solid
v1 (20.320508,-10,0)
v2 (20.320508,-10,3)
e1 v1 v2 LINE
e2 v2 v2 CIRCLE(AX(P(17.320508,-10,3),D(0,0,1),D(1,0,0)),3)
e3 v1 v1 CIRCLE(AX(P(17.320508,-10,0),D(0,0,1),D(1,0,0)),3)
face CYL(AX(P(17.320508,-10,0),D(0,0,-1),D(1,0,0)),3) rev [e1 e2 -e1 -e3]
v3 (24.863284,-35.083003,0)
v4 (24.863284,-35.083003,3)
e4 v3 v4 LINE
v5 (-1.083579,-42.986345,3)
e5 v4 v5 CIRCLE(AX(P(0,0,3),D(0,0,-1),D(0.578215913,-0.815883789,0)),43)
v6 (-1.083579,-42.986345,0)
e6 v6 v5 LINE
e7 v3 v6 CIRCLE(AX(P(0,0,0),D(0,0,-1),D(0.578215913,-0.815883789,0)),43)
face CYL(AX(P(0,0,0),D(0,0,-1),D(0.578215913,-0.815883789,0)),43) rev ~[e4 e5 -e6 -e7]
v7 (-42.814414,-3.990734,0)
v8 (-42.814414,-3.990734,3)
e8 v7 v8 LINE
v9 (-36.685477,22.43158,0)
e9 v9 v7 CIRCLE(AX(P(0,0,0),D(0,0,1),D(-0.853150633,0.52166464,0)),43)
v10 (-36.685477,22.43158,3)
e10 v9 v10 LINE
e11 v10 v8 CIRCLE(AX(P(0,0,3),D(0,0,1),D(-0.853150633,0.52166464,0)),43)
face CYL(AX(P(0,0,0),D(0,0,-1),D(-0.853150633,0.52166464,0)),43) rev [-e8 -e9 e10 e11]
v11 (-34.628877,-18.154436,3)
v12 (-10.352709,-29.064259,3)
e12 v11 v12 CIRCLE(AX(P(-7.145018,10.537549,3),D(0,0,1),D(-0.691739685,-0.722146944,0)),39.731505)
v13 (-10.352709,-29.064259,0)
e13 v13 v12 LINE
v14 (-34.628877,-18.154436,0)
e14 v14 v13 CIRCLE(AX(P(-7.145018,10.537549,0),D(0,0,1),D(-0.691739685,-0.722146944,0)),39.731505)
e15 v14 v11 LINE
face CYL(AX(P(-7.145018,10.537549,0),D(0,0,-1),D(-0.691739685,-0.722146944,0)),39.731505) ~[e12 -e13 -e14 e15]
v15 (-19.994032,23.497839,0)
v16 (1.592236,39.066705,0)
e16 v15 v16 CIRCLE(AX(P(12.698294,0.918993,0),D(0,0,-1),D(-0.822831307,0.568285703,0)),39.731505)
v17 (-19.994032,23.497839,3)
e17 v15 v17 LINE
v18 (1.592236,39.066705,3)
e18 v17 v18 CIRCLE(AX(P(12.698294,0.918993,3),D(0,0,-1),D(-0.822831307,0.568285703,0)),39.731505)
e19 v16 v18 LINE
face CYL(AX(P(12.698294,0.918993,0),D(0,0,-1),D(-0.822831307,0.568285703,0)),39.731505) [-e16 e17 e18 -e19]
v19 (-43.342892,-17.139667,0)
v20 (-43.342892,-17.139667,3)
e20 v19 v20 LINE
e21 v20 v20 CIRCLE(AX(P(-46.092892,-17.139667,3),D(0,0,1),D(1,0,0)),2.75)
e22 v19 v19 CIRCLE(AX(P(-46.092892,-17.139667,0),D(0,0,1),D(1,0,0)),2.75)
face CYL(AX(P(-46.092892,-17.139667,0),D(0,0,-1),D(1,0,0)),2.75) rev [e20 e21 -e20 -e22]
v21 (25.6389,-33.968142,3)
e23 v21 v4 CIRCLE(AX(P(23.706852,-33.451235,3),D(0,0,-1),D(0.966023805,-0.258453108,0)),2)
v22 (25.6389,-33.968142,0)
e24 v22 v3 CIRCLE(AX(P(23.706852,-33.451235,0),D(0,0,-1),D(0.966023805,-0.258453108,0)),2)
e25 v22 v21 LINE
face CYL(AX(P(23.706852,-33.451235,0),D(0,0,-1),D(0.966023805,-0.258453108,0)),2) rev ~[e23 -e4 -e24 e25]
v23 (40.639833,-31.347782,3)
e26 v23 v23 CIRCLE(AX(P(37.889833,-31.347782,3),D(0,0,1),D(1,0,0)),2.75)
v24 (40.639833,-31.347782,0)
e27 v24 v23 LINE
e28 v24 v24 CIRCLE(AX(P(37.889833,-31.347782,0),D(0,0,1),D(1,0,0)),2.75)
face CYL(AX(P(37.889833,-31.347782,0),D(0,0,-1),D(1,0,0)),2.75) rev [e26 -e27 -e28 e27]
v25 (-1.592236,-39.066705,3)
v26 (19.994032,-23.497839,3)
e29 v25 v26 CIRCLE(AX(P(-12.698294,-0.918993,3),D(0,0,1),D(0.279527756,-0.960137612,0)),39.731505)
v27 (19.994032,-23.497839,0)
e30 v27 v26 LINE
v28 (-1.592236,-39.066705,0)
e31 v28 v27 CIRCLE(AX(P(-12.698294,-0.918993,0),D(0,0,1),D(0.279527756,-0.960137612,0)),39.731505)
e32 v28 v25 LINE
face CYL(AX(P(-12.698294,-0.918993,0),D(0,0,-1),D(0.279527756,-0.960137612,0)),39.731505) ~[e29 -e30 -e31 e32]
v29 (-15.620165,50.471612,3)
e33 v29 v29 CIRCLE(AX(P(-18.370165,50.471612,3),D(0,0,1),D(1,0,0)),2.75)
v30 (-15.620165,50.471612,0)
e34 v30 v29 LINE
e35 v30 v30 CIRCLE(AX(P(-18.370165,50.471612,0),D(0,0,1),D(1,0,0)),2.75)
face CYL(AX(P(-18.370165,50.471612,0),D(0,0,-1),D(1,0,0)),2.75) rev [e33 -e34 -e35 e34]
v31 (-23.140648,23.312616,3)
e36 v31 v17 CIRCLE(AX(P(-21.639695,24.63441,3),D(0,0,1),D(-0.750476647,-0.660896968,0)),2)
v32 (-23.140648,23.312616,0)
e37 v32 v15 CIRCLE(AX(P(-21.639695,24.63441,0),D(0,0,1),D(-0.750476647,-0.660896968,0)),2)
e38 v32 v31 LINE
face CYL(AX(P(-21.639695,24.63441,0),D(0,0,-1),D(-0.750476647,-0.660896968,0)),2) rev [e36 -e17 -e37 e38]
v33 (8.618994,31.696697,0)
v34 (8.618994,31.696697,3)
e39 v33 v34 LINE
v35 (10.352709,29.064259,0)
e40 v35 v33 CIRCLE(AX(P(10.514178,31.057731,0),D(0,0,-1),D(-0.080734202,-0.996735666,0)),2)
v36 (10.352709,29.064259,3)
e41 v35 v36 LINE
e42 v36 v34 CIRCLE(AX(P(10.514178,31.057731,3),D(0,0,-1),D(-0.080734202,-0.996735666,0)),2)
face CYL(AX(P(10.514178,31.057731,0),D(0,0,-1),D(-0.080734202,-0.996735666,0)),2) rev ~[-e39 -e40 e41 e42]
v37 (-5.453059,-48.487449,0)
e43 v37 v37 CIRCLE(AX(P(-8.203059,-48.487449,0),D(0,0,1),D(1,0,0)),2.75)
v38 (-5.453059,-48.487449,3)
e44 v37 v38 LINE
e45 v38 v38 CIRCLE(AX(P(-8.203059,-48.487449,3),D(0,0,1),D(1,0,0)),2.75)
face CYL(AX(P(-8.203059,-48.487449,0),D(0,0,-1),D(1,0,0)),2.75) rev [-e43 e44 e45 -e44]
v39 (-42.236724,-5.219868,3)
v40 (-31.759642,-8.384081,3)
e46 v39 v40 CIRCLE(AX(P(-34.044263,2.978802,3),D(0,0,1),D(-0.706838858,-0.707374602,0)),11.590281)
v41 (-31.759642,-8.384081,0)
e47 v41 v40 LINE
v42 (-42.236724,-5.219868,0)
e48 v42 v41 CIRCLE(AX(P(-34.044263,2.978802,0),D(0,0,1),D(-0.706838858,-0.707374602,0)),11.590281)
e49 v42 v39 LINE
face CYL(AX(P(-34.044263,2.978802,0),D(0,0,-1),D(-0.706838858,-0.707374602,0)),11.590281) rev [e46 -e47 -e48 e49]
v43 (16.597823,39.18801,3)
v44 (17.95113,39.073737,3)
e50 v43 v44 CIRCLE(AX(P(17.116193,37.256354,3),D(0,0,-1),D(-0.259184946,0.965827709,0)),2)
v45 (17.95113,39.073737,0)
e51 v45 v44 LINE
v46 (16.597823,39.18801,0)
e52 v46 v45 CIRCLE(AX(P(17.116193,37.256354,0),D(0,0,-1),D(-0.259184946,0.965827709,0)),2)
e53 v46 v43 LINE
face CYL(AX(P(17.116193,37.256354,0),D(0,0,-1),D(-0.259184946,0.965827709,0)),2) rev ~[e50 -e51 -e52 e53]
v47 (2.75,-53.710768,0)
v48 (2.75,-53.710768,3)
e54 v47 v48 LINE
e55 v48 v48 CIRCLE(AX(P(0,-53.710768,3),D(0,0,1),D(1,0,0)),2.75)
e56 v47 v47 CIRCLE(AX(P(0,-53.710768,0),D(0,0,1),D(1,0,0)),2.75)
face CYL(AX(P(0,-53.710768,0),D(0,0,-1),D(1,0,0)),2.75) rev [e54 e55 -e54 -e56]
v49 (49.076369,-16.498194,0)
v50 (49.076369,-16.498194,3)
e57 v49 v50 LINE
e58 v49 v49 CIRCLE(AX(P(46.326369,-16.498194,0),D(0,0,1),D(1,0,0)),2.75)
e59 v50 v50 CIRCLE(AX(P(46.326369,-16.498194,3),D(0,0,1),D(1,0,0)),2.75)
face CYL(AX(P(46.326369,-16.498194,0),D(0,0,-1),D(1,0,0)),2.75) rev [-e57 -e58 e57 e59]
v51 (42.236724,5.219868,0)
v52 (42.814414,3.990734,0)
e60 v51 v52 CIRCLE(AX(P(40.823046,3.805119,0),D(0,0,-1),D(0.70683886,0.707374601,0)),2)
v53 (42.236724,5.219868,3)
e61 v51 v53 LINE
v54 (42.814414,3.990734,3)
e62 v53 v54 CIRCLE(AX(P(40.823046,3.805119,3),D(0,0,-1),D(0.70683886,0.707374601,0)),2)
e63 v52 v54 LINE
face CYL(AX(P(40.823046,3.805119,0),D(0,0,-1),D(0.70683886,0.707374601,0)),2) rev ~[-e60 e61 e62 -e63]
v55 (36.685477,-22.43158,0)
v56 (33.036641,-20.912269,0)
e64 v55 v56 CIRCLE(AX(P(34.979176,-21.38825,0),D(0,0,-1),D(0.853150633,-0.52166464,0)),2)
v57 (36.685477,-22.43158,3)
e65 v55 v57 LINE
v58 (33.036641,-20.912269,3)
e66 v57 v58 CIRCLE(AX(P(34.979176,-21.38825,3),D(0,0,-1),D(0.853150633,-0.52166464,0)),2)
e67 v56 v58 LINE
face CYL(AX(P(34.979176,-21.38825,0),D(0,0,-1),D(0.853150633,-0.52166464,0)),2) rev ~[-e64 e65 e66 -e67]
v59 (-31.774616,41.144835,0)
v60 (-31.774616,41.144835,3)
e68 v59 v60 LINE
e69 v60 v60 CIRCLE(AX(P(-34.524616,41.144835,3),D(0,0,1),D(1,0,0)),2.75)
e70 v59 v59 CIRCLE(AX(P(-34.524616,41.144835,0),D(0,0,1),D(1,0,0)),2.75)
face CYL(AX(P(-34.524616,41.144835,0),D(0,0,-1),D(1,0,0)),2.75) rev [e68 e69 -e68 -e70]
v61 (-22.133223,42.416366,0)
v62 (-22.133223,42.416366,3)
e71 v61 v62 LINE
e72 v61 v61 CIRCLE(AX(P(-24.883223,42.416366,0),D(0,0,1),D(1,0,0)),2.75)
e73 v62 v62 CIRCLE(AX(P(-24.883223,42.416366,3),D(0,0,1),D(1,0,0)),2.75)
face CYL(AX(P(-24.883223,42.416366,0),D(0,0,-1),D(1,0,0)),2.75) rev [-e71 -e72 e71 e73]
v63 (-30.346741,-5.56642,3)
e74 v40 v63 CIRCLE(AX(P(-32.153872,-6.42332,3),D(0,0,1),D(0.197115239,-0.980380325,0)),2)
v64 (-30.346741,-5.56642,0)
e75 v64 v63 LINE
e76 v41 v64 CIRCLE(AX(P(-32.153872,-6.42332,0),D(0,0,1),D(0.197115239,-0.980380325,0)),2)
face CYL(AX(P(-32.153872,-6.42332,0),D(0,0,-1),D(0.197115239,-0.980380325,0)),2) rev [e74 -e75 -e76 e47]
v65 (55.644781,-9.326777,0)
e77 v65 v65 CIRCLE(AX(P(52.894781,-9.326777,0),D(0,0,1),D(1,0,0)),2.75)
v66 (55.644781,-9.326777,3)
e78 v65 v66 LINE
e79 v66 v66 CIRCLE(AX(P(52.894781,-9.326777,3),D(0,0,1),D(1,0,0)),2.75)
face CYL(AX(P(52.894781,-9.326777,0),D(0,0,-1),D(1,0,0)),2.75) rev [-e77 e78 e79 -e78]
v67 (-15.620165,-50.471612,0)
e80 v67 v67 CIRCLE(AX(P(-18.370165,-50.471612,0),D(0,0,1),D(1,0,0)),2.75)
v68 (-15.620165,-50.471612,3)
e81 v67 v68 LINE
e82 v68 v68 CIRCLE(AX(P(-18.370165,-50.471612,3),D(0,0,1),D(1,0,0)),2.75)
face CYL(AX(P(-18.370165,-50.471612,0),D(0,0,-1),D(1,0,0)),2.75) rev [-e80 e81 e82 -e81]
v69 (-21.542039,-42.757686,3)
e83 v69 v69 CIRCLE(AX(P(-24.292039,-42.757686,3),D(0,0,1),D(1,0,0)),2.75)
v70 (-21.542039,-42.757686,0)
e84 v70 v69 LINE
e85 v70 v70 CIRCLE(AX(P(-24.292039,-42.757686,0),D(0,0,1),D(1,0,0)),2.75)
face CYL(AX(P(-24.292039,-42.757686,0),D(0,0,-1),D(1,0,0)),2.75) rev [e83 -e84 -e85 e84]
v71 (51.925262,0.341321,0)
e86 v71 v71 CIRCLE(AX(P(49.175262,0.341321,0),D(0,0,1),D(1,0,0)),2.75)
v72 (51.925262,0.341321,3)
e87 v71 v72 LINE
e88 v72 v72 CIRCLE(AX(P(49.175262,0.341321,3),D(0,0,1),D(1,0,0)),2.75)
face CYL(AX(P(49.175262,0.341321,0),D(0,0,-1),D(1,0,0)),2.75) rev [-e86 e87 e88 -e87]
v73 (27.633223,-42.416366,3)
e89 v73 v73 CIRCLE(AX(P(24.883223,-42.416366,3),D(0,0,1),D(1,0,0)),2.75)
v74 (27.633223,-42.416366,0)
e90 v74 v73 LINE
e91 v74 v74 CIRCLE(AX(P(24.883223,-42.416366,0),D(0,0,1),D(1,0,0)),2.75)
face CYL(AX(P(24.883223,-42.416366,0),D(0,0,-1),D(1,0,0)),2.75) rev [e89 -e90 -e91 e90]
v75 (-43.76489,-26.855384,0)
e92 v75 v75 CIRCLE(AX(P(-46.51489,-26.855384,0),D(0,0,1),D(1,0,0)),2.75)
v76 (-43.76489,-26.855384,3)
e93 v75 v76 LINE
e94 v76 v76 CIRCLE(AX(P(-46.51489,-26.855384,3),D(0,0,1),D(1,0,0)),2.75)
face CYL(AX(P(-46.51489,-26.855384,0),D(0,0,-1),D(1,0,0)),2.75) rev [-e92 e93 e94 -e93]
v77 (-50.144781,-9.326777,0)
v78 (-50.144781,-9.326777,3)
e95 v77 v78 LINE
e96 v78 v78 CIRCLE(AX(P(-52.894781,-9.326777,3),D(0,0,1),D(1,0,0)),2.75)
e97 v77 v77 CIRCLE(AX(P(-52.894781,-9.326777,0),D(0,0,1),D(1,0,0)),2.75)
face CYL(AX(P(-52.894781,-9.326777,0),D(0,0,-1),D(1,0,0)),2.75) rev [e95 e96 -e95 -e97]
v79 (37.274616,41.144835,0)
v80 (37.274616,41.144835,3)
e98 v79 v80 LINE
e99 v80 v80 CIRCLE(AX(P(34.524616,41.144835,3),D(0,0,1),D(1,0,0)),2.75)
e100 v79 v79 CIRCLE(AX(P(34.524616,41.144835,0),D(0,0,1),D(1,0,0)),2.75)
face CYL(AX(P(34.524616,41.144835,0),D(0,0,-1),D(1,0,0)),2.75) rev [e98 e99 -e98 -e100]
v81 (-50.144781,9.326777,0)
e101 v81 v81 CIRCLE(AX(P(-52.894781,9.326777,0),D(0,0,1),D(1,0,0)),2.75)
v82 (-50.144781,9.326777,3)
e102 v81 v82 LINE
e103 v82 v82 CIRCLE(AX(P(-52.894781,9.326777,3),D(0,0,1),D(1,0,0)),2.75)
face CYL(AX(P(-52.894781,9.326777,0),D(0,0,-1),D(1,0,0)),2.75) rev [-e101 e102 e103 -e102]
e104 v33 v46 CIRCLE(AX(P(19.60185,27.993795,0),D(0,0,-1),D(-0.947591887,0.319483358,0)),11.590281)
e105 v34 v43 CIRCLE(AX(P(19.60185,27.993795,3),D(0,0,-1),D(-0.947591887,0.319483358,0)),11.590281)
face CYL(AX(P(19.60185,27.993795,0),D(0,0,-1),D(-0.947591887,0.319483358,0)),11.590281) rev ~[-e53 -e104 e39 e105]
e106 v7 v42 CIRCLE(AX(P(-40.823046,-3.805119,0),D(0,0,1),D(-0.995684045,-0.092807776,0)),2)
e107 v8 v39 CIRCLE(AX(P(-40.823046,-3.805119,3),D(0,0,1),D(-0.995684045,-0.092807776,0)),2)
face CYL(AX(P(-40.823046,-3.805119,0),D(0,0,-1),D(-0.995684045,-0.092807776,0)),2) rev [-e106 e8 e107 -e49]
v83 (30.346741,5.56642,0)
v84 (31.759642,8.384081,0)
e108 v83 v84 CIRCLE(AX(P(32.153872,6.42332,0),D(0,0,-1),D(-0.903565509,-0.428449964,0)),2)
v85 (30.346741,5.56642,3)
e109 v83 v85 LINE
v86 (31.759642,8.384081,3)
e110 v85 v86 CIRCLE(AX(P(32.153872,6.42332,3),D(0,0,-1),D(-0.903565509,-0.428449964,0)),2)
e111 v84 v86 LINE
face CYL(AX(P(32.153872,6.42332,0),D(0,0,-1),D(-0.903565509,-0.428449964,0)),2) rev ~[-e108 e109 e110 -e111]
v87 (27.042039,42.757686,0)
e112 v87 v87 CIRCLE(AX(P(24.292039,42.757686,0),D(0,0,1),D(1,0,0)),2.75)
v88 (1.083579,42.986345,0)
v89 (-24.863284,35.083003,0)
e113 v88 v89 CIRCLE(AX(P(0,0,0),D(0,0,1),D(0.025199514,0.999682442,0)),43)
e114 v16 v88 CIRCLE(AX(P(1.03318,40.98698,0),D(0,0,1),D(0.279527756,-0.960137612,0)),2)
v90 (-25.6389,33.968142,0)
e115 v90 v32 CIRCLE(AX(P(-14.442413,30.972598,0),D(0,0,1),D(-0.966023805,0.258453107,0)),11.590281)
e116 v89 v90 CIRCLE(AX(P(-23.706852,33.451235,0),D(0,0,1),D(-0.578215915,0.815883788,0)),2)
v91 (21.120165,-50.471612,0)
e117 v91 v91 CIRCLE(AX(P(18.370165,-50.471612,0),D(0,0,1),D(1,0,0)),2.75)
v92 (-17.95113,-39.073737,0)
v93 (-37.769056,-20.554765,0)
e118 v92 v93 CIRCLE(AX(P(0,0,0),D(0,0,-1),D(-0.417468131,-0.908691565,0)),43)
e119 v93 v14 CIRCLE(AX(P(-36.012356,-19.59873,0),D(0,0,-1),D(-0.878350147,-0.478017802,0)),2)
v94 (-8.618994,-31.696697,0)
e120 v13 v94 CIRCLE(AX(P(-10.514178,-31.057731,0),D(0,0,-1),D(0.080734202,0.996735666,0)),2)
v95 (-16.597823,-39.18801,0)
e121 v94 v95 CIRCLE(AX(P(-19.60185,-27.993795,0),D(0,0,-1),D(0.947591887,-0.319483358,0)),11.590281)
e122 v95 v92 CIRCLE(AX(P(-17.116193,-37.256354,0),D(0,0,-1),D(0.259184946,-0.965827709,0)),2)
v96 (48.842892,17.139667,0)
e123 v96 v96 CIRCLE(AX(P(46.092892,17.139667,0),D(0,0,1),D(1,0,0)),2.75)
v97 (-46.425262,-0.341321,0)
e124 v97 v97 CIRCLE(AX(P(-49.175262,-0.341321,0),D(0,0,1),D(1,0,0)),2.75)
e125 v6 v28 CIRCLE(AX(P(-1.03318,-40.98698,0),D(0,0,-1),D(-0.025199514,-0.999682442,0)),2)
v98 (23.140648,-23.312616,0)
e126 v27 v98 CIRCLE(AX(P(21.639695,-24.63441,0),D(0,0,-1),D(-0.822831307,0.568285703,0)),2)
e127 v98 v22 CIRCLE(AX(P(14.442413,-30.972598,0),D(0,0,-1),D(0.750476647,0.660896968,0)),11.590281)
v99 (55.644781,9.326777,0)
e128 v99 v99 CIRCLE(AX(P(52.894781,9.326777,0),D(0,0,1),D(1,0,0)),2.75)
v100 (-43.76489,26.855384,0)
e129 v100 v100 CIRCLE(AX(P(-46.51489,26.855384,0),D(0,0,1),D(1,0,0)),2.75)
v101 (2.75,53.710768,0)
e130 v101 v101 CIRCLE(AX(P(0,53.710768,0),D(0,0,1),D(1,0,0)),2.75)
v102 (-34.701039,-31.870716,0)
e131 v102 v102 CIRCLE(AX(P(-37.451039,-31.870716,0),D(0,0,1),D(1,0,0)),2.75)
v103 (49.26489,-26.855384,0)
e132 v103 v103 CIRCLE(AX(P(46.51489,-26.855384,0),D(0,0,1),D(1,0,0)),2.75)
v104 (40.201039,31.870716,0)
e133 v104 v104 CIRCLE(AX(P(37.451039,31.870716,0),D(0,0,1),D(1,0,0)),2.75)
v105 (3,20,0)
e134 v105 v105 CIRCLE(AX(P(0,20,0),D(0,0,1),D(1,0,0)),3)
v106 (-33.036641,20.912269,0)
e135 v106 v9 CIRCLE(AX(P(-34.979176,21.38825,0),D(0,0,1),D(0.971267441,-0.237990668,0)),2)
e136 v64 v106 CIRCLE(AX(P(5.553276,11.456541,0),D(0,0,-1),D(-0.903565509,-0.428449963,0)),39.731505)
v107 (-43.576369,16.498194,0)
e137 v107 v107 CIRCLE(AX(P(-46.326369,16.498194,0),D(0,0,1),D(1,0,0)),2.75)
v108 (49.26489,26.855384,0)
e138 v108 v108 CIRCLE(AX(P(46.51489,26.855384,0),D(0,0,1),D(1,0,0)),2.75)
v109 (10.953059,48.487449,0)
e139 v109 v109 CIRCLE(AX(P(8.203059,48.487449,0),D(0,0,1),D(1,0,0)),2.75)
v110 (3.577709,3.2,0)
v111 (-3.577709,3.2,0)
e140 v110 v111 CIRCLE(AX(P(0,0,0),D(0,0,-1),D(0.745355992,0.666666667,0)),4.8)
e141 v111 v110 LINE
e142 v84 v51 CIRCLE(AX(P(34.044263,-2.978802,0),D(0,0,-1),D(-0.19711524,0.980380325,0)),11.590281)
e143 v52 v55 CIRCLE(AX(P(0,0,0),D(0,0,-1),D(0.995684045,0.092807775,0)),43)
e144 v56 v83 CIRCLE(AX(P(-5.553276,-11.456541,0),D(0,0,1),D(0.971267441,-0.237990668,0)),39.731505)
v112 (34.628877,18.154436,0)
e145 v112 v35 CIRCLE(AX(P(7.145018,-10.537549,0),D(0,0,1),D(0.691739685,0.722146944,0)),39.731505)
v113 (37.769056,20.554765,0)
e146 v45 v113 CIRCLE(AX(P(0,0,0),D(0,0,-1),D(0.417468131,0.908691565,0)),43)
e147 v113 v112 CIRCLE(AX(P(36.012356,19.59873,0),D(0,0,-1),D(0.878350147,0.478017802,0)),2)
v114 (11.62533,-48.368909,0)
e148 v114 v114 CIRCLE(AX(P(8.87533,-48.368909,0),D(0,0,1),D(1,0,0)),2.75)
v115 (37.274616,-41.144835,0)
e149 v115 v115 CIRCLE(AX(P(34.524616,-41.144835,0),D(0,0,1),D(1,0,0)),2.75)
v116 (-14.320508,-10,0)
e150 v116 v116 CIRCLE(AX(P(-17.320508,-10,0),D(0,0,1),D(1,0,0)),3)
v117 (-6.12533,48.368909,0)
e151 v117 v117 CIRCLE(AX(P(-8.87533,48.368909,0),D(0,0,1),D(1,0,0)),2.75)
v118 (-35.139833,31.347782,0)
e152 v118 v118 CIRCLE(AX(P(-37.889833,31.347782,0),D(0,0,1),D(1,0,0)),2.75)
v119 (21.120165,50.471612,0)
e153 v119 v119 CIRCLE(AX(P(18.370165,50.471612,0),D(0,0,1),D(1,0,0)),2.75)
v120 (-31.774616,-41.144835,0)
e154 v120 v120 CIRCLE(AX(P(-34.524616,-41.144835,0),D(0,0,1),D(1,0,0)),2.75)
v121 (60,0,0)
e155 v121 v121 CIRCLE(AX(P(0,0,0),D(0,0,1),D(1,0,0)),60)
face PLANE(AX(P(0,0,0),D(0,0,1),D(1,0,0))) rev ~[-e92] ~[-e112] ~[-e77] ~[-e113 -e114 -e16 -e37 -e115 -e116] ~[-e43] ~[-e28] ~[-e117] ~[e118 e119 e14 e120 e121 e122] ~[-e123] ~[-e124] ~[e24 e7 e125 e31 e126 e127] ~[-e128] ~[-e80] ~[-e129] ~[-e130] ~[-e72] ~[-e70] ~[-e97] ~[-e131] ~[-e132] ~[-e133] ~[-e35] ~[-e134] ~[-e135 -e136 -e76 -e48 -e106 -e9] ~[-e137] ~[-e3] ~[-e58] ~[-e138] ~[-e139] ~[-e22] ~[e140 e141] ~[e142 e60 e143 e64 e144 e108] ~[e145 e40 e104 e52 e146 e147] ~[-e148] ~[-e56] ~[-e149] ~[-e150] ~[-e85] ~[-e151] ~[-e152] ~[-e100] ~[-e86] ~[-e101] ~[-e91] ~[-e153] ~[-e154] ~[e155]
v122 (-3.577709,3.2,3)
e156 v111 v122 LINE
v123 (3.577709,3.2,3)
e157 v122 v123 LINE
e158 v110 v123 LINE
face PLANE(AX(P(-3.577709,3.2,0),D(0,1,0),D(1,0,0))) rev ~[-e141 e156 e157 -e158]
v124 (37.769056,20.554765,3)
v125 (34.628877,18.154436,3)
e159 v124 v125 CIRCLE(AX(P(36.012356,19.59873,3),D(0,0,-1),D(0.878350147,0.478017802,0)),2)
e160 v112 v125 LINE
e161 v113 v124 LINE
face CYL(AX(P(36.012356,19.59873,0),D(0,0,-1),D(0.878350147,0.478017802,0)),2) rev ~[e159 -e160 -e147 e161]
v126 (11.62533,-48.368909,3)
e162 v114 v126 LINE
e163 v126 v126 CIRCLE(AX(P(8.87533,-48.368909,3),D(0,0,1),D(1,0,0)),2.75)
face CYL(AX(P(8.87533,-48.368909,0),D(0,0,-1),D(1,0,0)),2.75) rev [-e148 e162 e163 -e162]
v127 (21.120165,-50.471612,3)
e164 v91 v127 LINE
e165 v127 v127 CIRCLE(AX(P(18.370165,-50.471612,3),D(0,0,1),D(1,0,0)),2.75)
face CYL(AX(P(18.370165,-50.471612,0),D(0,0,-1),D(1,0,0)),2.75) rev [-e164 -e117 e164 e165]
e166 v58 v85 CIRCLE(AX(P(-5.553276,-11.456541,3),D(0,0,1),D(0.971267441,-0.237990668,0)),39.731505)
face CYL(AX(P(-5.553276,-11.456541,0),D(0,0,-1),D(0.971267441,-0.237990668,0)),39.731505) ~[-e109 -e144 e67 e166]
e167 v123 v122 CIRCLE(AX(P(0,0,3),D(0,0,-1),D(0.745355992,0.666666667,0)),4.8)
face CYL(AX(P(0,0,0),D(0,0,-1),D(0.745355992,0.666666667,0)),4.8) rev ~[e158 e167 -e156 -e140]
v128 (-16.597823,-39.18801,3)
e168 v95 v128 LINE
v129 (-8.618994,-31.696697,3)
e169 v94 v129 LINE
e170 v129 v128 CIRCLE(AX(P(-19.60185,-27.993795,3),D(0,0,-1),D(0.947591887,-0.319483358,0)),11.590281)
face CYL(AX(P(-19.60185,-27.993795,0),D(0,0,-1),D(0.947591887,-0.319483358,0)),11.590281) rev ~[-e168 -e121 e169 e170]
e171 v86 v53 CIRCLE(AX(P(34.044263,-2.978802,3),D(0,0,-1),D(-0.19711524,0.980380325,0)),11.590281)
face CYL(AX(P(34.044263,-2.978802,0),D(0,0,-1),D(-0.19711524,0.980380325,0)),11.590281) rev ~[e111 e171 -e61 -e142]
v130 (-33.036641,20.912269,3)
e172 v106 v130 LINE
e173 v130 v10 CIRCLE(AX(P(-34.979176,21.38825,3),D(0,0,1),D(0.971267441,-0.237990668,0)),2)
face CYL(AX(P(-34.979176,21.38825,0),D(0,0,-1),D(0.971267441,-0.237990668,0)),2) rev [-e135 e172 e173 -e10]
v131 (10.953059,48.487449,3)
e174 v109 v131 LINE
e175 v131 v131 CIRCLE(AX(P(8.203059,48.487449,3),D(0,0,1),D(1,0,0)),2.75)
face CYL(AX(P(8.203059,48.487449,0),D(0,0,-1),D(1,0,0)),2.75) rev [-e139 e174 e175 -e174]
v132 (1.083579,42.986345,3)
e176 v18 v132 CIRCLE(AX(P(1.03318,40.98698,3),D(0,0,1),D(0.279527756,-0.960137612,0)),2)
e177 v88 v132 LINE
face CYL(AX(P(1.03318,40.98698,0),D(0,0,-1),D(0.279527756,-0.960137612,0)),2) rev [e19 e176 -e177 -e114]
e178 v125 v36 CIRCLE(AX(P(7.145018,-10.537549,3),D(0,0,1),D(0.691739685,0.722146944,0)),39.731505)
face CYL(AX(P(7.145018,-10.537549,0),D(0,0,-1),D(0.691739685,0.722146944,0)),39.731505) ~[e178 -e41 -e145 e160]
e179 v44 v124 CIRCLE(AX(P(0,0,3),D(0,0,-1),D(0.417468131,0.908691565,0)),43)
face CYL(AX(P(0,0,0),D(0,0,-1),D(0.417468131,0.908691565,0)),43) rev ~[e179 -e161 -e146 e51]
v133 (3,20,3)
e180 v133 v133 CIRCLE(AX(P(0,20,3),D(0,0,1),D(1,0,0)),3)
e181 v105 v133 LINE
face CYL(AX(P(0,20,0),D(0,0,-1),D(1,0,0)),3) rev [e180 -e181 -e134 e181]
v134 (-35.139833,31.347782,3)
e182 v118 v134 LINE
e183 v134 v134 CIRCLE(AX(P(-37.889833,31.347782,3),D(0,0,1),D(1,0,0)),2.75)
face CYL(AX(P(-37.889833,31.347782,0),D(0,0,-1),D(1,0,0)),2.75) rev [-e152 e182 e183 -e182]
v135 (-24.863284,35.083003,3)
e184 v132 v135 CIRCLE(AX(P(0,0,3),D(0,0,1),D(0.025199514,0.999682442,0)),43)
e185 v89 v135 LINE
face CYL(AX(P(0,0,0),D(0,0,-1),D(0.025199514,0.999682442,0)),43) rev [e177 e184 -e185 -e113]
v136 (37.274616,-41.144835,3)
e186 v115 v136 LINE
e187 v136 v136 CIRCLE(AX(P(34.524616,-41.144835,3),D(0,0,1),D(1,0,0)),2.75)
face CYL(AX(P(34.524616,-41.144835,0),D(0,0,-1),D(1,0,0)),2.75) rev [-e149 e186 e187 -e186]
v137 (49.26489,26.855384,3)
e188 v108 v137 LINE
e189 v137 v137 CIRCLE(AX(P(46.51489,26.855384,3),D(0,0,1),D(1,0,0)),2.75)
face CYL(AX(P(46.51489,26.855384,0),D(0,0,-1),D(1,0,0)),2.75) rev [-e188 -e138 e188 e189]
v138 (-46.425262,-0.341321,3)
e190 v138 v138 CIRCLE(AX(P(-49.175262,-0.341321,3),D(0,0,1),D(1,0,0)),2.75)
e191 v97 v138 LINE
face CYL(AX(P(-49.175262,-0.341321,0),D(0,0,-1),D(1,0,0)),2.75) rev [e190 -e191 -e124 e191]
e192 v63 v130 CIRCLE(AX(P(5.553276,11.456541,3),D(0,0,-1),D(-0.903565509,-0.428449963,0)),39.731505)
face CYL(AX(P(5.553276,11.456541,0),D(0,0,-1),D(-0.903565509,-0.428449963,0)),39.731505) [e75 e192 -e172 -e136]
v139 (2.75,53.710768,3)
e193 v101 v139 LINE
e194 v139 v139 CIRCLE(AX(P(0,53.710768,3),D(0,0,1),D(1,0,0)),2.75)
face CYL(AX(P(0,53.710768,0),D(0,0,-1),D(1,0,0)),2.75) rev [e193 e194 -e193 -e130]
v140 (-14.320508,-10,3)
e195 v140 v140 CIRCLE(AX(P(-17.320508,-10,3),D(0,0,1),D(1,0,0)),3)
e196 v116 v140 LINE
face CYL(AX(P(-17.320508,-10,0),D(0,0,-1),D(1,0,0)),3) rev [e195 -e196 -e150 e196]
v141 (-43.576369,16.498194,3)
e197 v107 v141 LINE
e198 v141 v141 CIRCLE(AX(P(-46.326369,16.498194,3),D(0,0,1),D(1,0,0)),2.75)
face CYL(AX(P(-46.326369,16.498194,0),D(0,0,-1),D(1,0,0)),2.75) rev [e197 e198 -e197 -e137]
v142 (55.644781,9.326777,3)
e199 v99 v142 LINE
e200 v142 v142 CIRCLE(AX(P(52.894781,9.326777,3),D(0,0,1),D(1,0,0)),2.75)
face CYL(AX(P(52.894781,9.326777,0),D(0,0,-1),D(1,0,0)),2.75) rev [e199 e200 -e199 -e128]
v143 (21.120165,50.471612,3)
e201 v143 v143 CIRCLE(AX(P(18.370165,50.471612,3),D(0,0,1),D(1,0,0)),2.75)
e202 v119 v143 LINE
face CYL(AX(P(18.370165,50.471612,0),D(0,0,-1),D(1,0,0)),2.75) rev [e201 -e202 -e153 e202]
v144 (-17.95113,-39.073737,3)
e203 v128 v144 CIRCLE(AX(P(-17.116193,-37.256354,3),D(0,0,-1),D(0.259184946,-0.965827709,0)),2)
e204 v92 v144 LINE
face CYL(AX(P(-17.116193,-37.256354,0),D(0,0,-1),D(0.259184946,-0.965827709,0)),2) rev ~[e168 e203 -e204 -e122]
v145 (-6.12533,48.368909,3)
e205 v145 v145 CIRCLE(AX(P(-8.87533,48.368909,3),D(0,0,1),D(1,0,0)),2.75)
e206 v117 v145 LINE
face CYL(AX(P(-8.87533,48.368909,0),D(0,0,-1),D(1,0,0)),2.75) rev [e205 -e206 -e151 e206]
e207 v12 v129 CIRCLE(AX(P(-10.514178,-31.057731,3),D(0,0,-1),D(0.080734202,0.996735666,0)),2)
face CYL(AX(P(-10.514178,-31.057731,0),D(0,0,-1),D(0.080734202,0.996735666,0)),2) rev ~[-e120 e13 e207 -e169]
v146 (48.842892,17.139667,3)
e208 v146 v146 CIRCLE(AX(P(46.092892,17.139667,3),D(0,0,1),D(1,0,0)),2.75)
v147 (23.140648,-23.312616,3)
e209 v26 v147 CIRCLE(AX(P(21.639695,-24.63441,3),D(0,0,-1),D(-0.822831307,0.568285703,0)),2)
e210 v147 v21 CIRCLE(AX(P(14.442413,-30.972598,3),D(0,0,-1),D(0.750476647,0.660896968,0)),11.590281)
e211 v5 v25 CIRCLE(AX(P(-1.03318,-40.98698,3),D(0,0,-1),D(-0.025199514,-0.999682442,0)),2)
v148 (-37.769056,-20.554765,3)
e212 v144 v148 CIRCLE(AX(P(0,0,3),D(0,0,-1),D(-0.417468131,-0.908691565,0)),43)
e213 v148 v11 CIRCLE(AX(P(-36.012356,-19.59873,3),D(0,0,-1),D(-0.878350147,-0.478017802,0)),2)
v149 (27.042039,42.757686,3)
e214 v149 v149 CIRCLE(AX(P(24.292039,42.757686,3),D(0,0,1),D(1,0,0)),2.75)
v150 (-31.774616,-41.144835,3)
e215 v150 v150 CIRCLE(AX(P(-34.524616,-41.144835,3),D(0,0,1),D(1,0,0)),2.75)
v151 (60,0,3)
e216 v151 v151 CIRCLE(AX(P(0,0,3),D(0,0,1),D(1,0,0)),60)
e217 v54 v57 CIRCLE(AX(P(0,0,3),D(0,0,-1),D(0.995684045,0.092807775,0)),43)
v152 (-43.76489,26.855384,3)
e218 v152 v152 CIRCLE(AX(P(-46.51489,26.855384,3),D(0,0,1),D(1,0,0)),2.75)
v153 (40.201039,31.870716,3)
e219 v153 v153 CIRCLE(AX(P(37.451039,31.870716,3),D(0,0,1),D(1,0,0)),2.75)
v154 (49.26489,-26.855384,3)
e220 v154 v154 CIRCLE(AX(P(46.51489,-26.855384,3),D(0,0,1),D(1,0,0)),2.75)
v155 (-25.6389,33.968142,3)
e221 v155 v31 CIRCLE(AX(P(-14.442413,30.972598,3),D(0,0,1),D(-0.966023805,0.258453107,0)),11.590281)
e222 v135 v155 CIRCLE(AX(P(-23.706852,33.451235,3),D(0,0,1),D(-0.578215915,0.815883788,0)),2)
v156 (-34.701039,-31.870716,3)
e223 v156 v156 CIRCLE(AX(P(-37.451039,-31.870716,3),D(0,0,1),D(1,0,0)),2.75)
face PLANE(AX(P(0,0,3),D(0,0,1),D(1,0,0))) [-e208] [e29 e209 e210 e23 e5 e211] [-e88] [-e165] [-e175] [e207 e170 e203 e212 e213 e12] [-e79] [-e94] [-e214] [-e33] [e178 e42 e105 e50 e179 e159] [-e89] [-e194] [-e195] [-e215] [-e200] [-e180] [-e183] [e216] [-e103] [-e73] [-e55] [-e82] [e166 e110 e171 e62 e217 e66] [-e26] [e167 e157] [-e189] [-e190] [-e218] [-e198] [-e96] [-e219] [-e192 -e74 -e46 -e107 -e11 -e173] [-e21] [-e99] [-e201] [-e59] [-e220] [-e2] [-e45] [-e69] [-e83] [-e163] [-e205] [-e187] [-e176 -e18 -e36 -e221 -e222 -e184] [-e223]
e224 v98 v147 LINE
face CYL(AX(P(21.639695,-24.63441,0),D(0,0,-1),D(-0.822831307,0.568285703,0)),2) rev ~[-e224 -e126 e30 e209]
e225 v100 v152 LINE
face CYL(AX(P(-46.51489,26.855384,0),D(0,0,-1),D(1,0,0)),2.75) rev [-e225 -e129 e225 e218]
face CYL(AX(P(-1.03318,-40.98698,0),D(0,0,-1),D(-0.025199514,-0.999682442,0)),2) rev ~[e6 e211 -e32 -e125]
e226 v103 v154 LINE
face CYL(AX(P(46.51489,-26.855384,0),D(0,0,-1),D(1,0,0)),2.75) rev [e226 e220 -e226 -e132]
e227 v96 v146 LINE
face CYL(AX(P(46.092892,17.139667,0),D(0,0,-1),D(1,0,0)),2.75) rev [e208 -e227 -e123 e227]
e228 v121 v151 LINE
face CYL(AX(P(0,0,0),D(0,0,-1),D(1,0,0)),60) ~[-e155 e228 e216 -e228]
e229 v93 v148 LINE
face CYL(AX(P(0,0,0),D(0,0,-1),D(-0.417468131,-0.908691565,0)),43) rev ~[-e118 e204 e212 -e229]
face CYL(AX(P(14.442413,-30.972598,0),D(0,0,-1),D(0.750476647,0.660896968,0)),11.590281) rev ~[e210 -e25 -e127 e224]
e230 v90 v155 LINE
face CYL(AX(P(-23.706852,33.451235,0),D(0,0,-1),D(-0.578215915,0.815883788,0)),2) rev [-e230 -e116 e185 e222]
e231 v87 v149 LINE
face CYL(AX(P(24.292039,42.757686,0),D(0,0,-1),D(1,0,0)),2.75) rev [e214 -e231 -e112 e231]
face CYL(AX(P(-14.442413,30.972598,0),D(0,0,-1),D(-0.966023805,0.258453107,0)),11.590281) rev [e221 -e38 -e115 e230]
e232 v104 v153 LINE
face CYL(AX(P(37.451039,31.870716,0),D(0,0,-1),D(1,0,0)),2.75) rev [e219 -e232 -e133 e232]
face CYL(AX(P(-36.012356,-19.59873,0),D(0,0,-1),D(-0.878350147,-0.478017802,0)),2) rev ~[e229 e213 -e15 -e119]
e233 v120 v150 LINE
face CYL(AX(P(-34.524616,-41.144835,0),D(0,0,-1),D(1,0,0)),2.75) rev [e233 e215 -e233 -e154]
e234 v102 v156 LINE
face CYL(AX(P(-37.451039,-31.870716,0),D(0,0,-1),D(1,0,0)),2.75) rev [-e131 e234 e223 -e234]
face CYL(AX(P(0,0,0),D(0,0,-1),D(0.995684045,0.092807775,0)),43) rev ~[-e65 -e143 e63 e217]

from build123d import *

# Parameters (mm, degrees)
SKETCH1_R           = 60
SKETCH1_R_2         = 3
SKETCH1_R_3         = 2.75
BOSS_EXTRUDE1_DEPTH = 3


with BuildPart() as part:
    # Sketch1 → Boss-Extrude1 (new body)
    with BuildSketch(Plane.XY):
        Circle(SKETCH1_R)
        with Locations((0, 20)):
            Circle(SKETCH1_R_2, mode=Mode.SUBTRACT)
        with Locations((17.320508076, -10)):
            Circle(SKETCH1_R_2, mode=Mode.SUBTRACT)
        with Locations((-17.320508076, -10)):
            Circle(SKETCH1_R_2, mode=Mode.SUBTRACT)
        with Locations((0, 53.710768159)):
            Circle(SKETCH1_R_3, mode=Mode.SUBTRACT)
        with Locations((8.203059397, 48.487448679)):
            Circle(SKETCH1_R_3, mode=Mode.SUBTRACT)
        with Locations((24.29203853, 42.757686174)):
            Circle(SKETCH1_R_3, mode=Mode.SUBTRACT)
        with Locations((18.370164624, 50.471612496)):
            Circle(SKETCH1_R_3, mode=Mode.SUBTRACT)
        with Locations((37.451039304, 31.87071568)):
            Circle(SKETCH1_R_3, mode=Mode.SUBTRACT)
        with Locations((34.524616279, 41.144835484)):
            Circle(SKETCH1_R_3, mode=Mode.SUBTRACT)
        with Locations((46.09289202, 17.139666513)):
            Circle(SKETCH1_R_3, mode=Mode.SUBTRACT)
        with Locations((46.514889682, 26.855384079)):
            Circle(SKETCH1_R_3, mode=Mode.SUBTRACT)
        with Locations((49.175261699, 0.34132061)):
            Circle(SKETCH1_R_3, mode=Mode.SUBTRACT)
        with Locations((52.894780903, 9.326777012)):
            Circle(SKETCH1_R_3, mode=Mode.SUBTRACT)
        with Locations((46.326369068, -16.498193596)):
            Circle(SKETCH1_R_3, mode=Mode.SUBTRACT)
        with Locations((52.894780903, -9.326777012)):
            Circle(SKETCH1_R_3, mode=Mode.SUBTRACT)
        with Locations((37.889832623, -31.347782166)):
            Circle(SKETCH1_R_3, mode=Mode.SUBTRACT)
        with Locations((46.514889682, -26.855384079)):
            Circle(SKETCH1_R_3, mode=Mode.SUBTRACT)
        with Locations((24.883223169, -42.416365564)):
            Circle(SKETCH1_R_3, mode=Mode.SUBTRACT)
        with Locations((34.524616279, -41.144835484)):
            Circle(SKETCH1_R_3, mode=Mode.SUBTRACT)
        with Locations((8.875329764, -48.368909275)):
            Circle(SKETCH1_R_3, mode=Mode.SUBTRACT)
        with Locations((18.370164624, -50.471612496)):
            Circle(SKETCH1_R_3, mode=Mode.SUBTRACT)
        with Locations((-8.203059397, -48.487448679)):
            Circle(SKETCH1_R_3, mode=Mode.SUBTRACT)
        with Locations((0, -53.710768159)):
            Circle(SKETCH1_R_3, mode=Mode.SUBTRACT)
        with Locations((-24.29203853, -42.757686174)):
            Circle(SKETCH1_R_3, mode=Mode.SUBTRACT)
        with Locations((-18.370164624, -50.471612496)):
            Circle(SKETCH1_R_3, mode=Mode.SUBTRACT)
        with Locations((-37.451039304, -31.87071568)):
            Circle(SKETCH1_R_3, mode=Mode.SUBTRACT)
        with Locations((-34.524616279, -41.144835484)):
            Circle(SKETCH1_R_3, mode=Mode.SUBTRACT)
        with Locations((-46.09289202, -17.139666513)):
            Circle(SKETCH1_R_3, mode=Mode.SUBTRACT)
        with Locations((-46.514889682, -26.855384079)):
            Circle(SKETCH1_R_3, mode=Mode.SUBTRACT)
        with Locations((-49.175261699, -0.34132061)):
            Circle(SKETCH1_R_3, mode=Mode.SUBTRACT)
        with Locations((-52.894780903, -9.326777012)):
            Circle(SKETCH1_R_3, mode=Mode.SUBTRACT)
        with Locations((-46.326369068, 16.498193596)):
            Circle(SKETCH1_R_3, mode=Mode.SUBTRACT)
        with Locations((-52.894780903, 9.326777012)):
            Circle(SKETCH1_R_3, mode=Mode.SUBTRACT)
        with Locations((-37.889832623, 31.347782166)):
            Circle(SKETCH1_R_3, mode=Mode.SUBTRACT)
        with Locations((-46.514889682, 26.855384079)):
            Circle(SKETCH1_R_3, mode=Mode.SUBTRACT)
        with Locations((-24.883223169, 42.416365564)):
            Circle(SKETCH1_R_3, mode=Mode.SUBTRACT)
        with Locations((-34.524616279, 41.144835484)):
            Circle(SKETCH1_R_3, mode=Mode.SUBTRACT)
        with Locations((-8.875329764, 48.368909275)):
            Circle(SKETCH1_R_3, mode=Mode.SUBTRACT)
        with Locations((-18.370164624, 50.471612496)):
            Circle(SKETCH1_R_3, mode=Mode.SUBTRACT)
        with BuildLine():
            Line((-3.577708764, 3.2), (3.577708764, 3.2))
            ThreePointArc((3.577708764, 3.2), (0, -4.8), (-3.577708764, 3.2))
        make_face(mode=Mode.SUBTRACT)
        with BuildLine():
            ThreePointArc((-36.685477237, 22.431579524), (-41.887860306, 9.716334647), (-42.814413921, -3.990734342))
            ThreePointArc((-42.814413921, -3.990734342), (-42.633094621, -4.655838122), (-42.236723549, -5.219867997))
            ThreePointArc((-42.236723549, -5.219867997), (-37.395188654, -8.1165077), (-31.759641982, -8.384080905))
            ThreePointArc((-31.759641982, -8.384080905), (-30.36605231, -7.319812925), (-30.346741444, -5.566420328))
            ThreePointArc((-30.346741444, -5.566420328), (-33.974787858, 7.440990576), (-33.036641088, 20.912268907))
            ThreePointArc((-33.036641088, 20.912268907), (-34.210392666, 23.23459047), (-36.685477237, 22.431579524))
        make_face(mode=Mode.SUBTRACT)
        with BuildLine():
            ThreePointArc((-19.994032134, 23.497838848), (-10.543307061, 33.143524662), (1.59223558, 39.066704891))
            ThreePointArc((1.59223558, 39.066704891), (3.01654926, 41.244364357), (1.083579096, 42.986344999))
            ThreePointArc((1.083579096, 42.986344999), (-12.529337517, 41.134118459), (-24.863284281, 35.083002933))
            ThreePointArc((-24.863284281, 35.083002933), (-25.3486214, 34.593423923), (-25.638900064, 33.968141567))
            ThreePointArc((-25.638900064, 33.968141567), (-25.726696185, 28.326929504), (-23.140648042, 23.312616319))
            ThreePointArc((-23.140648042, 23.312616319), (-21.522170099, 22.637866251), (-19.994032134, 23.497838848))
        make_face(mode=Mode.SUBTRACT)
        with BuildLine():
            ThreePointArc((8.61899394, 31.696697224), (11.668492469, 36.443437203), (16.597823485, 39.188009564))
            ThreePointArc((16.597823485, 39.188009564), (17.284473221, 39.249262045), (17.95112964, 39.073737275))
            ThreePointArc((17.95112964, 39.073737275), (29.358522789, 31.417783812), (37.769056333, 20.554765475))
            ThreePointArc((37.769056333, 20.554765475), (37.226941927, 18.009773887), (34.628876668, 18.154435984))
            ThreePointArc((34.628876668, 18.154435984), (23.431480798, 25.702534085), (10.35270931, 29.064259176))
            ThreePointArc((10.35270931, 29.064259176), (8.843882212, 29.957679176), (8.61899394, 31.696697224))
        make_face(mode=Mode.SUBTRACT)
        with BuildLine():
            ThreePointArc((31.759641982, 8.384080905), (37.395188654, 8.1165077), (42.236723549, 5.219867997))
            ThreePointArc((42.236723549, 5.219867997), (42.633094621, 4.655838122), (42.814413921, 3.990734342))
            ThreePointArc((42.814413921, 3.990734342), (41.887860306, -9.716334647), (36.685477237, -22.431579524))
            ThreePointArc((36.685477237, -22.431579524), (34.210392666, -23.23459047), (33.036641088, -20.912268907))
            ThreePointArc((33.036641088, -20.912268907), (33.974787858, -7.440990576), (30.346741444, 5.566420328))
            ThreePointArc((30.346741444, 5.566420328), (30.36605231, 7.319812925), (31.759641982, 8.384080905))
        make_face(mode=Mode.SUBTRACT)
        with BuildLine():
            ThreePointArc((23.140648042, -23.312616319), (25.726696185, -28.326929504), (25.638900064, -33.968141567))
            ThreePointArc((25.638900064, -33.968141567), (25.3486214, -34.593423923), (24.863284281, -35.083002933))
            ThreePointArc((24.863284281, -35.083002933), (12.529337517, -41.134118459), (-1.083579096, -42.986344999))
            ThreePointArc((-1.083579096, -42.986344999), (-3.01654926, -41.244364357), (-1.59223558, -39.066704891))
            ThreePointArc((-1.59223558, -39.066704891), (10.543307061, -33.143524662), (19.994032134, -23.497838848))
            ThreePointArc((19.994032134, -23.497838848), (21.522170099, -22.637866251), (23.140648042, -23.312616319))
        make_face(mode=Mode.SUBTRACT)
        with BuildLine():
            ThreePointArc((-8.61899394, -31.696697224), (-11.668492469, -36.443437203), (-16.597823485, -39.188009564))
            ThreePointArc((-16.597823485, -39.188009564), (-17.284473221, -39.249262045), (-17.95112964, -39.073737275))
            ThreePointArc((-17.95112964, -39.073737275), (-29.358522789, -31.417783812), (-37.769056333, -20.554765475))
            ThreePointArc((-37.769056333, -20.554765475), (-37.226941927, -18.009773887), (-34.628876668, -18.154435984))
            ThreePointArc((-34.628876668, -18.154435984), (-23.431480798, -25.702534085), (-10.35270931, -29.064259176))
            ThreePointArc((-10.35270931, -29.064259176), (-8.843882212, -29.957679176), (-8.61899394, -31.696697224))
        make_face(mode=Mode.SUBTRACT)
    extrude(amount=BOSS_EXTRUDE1_DEPTH)


solid = part.part
